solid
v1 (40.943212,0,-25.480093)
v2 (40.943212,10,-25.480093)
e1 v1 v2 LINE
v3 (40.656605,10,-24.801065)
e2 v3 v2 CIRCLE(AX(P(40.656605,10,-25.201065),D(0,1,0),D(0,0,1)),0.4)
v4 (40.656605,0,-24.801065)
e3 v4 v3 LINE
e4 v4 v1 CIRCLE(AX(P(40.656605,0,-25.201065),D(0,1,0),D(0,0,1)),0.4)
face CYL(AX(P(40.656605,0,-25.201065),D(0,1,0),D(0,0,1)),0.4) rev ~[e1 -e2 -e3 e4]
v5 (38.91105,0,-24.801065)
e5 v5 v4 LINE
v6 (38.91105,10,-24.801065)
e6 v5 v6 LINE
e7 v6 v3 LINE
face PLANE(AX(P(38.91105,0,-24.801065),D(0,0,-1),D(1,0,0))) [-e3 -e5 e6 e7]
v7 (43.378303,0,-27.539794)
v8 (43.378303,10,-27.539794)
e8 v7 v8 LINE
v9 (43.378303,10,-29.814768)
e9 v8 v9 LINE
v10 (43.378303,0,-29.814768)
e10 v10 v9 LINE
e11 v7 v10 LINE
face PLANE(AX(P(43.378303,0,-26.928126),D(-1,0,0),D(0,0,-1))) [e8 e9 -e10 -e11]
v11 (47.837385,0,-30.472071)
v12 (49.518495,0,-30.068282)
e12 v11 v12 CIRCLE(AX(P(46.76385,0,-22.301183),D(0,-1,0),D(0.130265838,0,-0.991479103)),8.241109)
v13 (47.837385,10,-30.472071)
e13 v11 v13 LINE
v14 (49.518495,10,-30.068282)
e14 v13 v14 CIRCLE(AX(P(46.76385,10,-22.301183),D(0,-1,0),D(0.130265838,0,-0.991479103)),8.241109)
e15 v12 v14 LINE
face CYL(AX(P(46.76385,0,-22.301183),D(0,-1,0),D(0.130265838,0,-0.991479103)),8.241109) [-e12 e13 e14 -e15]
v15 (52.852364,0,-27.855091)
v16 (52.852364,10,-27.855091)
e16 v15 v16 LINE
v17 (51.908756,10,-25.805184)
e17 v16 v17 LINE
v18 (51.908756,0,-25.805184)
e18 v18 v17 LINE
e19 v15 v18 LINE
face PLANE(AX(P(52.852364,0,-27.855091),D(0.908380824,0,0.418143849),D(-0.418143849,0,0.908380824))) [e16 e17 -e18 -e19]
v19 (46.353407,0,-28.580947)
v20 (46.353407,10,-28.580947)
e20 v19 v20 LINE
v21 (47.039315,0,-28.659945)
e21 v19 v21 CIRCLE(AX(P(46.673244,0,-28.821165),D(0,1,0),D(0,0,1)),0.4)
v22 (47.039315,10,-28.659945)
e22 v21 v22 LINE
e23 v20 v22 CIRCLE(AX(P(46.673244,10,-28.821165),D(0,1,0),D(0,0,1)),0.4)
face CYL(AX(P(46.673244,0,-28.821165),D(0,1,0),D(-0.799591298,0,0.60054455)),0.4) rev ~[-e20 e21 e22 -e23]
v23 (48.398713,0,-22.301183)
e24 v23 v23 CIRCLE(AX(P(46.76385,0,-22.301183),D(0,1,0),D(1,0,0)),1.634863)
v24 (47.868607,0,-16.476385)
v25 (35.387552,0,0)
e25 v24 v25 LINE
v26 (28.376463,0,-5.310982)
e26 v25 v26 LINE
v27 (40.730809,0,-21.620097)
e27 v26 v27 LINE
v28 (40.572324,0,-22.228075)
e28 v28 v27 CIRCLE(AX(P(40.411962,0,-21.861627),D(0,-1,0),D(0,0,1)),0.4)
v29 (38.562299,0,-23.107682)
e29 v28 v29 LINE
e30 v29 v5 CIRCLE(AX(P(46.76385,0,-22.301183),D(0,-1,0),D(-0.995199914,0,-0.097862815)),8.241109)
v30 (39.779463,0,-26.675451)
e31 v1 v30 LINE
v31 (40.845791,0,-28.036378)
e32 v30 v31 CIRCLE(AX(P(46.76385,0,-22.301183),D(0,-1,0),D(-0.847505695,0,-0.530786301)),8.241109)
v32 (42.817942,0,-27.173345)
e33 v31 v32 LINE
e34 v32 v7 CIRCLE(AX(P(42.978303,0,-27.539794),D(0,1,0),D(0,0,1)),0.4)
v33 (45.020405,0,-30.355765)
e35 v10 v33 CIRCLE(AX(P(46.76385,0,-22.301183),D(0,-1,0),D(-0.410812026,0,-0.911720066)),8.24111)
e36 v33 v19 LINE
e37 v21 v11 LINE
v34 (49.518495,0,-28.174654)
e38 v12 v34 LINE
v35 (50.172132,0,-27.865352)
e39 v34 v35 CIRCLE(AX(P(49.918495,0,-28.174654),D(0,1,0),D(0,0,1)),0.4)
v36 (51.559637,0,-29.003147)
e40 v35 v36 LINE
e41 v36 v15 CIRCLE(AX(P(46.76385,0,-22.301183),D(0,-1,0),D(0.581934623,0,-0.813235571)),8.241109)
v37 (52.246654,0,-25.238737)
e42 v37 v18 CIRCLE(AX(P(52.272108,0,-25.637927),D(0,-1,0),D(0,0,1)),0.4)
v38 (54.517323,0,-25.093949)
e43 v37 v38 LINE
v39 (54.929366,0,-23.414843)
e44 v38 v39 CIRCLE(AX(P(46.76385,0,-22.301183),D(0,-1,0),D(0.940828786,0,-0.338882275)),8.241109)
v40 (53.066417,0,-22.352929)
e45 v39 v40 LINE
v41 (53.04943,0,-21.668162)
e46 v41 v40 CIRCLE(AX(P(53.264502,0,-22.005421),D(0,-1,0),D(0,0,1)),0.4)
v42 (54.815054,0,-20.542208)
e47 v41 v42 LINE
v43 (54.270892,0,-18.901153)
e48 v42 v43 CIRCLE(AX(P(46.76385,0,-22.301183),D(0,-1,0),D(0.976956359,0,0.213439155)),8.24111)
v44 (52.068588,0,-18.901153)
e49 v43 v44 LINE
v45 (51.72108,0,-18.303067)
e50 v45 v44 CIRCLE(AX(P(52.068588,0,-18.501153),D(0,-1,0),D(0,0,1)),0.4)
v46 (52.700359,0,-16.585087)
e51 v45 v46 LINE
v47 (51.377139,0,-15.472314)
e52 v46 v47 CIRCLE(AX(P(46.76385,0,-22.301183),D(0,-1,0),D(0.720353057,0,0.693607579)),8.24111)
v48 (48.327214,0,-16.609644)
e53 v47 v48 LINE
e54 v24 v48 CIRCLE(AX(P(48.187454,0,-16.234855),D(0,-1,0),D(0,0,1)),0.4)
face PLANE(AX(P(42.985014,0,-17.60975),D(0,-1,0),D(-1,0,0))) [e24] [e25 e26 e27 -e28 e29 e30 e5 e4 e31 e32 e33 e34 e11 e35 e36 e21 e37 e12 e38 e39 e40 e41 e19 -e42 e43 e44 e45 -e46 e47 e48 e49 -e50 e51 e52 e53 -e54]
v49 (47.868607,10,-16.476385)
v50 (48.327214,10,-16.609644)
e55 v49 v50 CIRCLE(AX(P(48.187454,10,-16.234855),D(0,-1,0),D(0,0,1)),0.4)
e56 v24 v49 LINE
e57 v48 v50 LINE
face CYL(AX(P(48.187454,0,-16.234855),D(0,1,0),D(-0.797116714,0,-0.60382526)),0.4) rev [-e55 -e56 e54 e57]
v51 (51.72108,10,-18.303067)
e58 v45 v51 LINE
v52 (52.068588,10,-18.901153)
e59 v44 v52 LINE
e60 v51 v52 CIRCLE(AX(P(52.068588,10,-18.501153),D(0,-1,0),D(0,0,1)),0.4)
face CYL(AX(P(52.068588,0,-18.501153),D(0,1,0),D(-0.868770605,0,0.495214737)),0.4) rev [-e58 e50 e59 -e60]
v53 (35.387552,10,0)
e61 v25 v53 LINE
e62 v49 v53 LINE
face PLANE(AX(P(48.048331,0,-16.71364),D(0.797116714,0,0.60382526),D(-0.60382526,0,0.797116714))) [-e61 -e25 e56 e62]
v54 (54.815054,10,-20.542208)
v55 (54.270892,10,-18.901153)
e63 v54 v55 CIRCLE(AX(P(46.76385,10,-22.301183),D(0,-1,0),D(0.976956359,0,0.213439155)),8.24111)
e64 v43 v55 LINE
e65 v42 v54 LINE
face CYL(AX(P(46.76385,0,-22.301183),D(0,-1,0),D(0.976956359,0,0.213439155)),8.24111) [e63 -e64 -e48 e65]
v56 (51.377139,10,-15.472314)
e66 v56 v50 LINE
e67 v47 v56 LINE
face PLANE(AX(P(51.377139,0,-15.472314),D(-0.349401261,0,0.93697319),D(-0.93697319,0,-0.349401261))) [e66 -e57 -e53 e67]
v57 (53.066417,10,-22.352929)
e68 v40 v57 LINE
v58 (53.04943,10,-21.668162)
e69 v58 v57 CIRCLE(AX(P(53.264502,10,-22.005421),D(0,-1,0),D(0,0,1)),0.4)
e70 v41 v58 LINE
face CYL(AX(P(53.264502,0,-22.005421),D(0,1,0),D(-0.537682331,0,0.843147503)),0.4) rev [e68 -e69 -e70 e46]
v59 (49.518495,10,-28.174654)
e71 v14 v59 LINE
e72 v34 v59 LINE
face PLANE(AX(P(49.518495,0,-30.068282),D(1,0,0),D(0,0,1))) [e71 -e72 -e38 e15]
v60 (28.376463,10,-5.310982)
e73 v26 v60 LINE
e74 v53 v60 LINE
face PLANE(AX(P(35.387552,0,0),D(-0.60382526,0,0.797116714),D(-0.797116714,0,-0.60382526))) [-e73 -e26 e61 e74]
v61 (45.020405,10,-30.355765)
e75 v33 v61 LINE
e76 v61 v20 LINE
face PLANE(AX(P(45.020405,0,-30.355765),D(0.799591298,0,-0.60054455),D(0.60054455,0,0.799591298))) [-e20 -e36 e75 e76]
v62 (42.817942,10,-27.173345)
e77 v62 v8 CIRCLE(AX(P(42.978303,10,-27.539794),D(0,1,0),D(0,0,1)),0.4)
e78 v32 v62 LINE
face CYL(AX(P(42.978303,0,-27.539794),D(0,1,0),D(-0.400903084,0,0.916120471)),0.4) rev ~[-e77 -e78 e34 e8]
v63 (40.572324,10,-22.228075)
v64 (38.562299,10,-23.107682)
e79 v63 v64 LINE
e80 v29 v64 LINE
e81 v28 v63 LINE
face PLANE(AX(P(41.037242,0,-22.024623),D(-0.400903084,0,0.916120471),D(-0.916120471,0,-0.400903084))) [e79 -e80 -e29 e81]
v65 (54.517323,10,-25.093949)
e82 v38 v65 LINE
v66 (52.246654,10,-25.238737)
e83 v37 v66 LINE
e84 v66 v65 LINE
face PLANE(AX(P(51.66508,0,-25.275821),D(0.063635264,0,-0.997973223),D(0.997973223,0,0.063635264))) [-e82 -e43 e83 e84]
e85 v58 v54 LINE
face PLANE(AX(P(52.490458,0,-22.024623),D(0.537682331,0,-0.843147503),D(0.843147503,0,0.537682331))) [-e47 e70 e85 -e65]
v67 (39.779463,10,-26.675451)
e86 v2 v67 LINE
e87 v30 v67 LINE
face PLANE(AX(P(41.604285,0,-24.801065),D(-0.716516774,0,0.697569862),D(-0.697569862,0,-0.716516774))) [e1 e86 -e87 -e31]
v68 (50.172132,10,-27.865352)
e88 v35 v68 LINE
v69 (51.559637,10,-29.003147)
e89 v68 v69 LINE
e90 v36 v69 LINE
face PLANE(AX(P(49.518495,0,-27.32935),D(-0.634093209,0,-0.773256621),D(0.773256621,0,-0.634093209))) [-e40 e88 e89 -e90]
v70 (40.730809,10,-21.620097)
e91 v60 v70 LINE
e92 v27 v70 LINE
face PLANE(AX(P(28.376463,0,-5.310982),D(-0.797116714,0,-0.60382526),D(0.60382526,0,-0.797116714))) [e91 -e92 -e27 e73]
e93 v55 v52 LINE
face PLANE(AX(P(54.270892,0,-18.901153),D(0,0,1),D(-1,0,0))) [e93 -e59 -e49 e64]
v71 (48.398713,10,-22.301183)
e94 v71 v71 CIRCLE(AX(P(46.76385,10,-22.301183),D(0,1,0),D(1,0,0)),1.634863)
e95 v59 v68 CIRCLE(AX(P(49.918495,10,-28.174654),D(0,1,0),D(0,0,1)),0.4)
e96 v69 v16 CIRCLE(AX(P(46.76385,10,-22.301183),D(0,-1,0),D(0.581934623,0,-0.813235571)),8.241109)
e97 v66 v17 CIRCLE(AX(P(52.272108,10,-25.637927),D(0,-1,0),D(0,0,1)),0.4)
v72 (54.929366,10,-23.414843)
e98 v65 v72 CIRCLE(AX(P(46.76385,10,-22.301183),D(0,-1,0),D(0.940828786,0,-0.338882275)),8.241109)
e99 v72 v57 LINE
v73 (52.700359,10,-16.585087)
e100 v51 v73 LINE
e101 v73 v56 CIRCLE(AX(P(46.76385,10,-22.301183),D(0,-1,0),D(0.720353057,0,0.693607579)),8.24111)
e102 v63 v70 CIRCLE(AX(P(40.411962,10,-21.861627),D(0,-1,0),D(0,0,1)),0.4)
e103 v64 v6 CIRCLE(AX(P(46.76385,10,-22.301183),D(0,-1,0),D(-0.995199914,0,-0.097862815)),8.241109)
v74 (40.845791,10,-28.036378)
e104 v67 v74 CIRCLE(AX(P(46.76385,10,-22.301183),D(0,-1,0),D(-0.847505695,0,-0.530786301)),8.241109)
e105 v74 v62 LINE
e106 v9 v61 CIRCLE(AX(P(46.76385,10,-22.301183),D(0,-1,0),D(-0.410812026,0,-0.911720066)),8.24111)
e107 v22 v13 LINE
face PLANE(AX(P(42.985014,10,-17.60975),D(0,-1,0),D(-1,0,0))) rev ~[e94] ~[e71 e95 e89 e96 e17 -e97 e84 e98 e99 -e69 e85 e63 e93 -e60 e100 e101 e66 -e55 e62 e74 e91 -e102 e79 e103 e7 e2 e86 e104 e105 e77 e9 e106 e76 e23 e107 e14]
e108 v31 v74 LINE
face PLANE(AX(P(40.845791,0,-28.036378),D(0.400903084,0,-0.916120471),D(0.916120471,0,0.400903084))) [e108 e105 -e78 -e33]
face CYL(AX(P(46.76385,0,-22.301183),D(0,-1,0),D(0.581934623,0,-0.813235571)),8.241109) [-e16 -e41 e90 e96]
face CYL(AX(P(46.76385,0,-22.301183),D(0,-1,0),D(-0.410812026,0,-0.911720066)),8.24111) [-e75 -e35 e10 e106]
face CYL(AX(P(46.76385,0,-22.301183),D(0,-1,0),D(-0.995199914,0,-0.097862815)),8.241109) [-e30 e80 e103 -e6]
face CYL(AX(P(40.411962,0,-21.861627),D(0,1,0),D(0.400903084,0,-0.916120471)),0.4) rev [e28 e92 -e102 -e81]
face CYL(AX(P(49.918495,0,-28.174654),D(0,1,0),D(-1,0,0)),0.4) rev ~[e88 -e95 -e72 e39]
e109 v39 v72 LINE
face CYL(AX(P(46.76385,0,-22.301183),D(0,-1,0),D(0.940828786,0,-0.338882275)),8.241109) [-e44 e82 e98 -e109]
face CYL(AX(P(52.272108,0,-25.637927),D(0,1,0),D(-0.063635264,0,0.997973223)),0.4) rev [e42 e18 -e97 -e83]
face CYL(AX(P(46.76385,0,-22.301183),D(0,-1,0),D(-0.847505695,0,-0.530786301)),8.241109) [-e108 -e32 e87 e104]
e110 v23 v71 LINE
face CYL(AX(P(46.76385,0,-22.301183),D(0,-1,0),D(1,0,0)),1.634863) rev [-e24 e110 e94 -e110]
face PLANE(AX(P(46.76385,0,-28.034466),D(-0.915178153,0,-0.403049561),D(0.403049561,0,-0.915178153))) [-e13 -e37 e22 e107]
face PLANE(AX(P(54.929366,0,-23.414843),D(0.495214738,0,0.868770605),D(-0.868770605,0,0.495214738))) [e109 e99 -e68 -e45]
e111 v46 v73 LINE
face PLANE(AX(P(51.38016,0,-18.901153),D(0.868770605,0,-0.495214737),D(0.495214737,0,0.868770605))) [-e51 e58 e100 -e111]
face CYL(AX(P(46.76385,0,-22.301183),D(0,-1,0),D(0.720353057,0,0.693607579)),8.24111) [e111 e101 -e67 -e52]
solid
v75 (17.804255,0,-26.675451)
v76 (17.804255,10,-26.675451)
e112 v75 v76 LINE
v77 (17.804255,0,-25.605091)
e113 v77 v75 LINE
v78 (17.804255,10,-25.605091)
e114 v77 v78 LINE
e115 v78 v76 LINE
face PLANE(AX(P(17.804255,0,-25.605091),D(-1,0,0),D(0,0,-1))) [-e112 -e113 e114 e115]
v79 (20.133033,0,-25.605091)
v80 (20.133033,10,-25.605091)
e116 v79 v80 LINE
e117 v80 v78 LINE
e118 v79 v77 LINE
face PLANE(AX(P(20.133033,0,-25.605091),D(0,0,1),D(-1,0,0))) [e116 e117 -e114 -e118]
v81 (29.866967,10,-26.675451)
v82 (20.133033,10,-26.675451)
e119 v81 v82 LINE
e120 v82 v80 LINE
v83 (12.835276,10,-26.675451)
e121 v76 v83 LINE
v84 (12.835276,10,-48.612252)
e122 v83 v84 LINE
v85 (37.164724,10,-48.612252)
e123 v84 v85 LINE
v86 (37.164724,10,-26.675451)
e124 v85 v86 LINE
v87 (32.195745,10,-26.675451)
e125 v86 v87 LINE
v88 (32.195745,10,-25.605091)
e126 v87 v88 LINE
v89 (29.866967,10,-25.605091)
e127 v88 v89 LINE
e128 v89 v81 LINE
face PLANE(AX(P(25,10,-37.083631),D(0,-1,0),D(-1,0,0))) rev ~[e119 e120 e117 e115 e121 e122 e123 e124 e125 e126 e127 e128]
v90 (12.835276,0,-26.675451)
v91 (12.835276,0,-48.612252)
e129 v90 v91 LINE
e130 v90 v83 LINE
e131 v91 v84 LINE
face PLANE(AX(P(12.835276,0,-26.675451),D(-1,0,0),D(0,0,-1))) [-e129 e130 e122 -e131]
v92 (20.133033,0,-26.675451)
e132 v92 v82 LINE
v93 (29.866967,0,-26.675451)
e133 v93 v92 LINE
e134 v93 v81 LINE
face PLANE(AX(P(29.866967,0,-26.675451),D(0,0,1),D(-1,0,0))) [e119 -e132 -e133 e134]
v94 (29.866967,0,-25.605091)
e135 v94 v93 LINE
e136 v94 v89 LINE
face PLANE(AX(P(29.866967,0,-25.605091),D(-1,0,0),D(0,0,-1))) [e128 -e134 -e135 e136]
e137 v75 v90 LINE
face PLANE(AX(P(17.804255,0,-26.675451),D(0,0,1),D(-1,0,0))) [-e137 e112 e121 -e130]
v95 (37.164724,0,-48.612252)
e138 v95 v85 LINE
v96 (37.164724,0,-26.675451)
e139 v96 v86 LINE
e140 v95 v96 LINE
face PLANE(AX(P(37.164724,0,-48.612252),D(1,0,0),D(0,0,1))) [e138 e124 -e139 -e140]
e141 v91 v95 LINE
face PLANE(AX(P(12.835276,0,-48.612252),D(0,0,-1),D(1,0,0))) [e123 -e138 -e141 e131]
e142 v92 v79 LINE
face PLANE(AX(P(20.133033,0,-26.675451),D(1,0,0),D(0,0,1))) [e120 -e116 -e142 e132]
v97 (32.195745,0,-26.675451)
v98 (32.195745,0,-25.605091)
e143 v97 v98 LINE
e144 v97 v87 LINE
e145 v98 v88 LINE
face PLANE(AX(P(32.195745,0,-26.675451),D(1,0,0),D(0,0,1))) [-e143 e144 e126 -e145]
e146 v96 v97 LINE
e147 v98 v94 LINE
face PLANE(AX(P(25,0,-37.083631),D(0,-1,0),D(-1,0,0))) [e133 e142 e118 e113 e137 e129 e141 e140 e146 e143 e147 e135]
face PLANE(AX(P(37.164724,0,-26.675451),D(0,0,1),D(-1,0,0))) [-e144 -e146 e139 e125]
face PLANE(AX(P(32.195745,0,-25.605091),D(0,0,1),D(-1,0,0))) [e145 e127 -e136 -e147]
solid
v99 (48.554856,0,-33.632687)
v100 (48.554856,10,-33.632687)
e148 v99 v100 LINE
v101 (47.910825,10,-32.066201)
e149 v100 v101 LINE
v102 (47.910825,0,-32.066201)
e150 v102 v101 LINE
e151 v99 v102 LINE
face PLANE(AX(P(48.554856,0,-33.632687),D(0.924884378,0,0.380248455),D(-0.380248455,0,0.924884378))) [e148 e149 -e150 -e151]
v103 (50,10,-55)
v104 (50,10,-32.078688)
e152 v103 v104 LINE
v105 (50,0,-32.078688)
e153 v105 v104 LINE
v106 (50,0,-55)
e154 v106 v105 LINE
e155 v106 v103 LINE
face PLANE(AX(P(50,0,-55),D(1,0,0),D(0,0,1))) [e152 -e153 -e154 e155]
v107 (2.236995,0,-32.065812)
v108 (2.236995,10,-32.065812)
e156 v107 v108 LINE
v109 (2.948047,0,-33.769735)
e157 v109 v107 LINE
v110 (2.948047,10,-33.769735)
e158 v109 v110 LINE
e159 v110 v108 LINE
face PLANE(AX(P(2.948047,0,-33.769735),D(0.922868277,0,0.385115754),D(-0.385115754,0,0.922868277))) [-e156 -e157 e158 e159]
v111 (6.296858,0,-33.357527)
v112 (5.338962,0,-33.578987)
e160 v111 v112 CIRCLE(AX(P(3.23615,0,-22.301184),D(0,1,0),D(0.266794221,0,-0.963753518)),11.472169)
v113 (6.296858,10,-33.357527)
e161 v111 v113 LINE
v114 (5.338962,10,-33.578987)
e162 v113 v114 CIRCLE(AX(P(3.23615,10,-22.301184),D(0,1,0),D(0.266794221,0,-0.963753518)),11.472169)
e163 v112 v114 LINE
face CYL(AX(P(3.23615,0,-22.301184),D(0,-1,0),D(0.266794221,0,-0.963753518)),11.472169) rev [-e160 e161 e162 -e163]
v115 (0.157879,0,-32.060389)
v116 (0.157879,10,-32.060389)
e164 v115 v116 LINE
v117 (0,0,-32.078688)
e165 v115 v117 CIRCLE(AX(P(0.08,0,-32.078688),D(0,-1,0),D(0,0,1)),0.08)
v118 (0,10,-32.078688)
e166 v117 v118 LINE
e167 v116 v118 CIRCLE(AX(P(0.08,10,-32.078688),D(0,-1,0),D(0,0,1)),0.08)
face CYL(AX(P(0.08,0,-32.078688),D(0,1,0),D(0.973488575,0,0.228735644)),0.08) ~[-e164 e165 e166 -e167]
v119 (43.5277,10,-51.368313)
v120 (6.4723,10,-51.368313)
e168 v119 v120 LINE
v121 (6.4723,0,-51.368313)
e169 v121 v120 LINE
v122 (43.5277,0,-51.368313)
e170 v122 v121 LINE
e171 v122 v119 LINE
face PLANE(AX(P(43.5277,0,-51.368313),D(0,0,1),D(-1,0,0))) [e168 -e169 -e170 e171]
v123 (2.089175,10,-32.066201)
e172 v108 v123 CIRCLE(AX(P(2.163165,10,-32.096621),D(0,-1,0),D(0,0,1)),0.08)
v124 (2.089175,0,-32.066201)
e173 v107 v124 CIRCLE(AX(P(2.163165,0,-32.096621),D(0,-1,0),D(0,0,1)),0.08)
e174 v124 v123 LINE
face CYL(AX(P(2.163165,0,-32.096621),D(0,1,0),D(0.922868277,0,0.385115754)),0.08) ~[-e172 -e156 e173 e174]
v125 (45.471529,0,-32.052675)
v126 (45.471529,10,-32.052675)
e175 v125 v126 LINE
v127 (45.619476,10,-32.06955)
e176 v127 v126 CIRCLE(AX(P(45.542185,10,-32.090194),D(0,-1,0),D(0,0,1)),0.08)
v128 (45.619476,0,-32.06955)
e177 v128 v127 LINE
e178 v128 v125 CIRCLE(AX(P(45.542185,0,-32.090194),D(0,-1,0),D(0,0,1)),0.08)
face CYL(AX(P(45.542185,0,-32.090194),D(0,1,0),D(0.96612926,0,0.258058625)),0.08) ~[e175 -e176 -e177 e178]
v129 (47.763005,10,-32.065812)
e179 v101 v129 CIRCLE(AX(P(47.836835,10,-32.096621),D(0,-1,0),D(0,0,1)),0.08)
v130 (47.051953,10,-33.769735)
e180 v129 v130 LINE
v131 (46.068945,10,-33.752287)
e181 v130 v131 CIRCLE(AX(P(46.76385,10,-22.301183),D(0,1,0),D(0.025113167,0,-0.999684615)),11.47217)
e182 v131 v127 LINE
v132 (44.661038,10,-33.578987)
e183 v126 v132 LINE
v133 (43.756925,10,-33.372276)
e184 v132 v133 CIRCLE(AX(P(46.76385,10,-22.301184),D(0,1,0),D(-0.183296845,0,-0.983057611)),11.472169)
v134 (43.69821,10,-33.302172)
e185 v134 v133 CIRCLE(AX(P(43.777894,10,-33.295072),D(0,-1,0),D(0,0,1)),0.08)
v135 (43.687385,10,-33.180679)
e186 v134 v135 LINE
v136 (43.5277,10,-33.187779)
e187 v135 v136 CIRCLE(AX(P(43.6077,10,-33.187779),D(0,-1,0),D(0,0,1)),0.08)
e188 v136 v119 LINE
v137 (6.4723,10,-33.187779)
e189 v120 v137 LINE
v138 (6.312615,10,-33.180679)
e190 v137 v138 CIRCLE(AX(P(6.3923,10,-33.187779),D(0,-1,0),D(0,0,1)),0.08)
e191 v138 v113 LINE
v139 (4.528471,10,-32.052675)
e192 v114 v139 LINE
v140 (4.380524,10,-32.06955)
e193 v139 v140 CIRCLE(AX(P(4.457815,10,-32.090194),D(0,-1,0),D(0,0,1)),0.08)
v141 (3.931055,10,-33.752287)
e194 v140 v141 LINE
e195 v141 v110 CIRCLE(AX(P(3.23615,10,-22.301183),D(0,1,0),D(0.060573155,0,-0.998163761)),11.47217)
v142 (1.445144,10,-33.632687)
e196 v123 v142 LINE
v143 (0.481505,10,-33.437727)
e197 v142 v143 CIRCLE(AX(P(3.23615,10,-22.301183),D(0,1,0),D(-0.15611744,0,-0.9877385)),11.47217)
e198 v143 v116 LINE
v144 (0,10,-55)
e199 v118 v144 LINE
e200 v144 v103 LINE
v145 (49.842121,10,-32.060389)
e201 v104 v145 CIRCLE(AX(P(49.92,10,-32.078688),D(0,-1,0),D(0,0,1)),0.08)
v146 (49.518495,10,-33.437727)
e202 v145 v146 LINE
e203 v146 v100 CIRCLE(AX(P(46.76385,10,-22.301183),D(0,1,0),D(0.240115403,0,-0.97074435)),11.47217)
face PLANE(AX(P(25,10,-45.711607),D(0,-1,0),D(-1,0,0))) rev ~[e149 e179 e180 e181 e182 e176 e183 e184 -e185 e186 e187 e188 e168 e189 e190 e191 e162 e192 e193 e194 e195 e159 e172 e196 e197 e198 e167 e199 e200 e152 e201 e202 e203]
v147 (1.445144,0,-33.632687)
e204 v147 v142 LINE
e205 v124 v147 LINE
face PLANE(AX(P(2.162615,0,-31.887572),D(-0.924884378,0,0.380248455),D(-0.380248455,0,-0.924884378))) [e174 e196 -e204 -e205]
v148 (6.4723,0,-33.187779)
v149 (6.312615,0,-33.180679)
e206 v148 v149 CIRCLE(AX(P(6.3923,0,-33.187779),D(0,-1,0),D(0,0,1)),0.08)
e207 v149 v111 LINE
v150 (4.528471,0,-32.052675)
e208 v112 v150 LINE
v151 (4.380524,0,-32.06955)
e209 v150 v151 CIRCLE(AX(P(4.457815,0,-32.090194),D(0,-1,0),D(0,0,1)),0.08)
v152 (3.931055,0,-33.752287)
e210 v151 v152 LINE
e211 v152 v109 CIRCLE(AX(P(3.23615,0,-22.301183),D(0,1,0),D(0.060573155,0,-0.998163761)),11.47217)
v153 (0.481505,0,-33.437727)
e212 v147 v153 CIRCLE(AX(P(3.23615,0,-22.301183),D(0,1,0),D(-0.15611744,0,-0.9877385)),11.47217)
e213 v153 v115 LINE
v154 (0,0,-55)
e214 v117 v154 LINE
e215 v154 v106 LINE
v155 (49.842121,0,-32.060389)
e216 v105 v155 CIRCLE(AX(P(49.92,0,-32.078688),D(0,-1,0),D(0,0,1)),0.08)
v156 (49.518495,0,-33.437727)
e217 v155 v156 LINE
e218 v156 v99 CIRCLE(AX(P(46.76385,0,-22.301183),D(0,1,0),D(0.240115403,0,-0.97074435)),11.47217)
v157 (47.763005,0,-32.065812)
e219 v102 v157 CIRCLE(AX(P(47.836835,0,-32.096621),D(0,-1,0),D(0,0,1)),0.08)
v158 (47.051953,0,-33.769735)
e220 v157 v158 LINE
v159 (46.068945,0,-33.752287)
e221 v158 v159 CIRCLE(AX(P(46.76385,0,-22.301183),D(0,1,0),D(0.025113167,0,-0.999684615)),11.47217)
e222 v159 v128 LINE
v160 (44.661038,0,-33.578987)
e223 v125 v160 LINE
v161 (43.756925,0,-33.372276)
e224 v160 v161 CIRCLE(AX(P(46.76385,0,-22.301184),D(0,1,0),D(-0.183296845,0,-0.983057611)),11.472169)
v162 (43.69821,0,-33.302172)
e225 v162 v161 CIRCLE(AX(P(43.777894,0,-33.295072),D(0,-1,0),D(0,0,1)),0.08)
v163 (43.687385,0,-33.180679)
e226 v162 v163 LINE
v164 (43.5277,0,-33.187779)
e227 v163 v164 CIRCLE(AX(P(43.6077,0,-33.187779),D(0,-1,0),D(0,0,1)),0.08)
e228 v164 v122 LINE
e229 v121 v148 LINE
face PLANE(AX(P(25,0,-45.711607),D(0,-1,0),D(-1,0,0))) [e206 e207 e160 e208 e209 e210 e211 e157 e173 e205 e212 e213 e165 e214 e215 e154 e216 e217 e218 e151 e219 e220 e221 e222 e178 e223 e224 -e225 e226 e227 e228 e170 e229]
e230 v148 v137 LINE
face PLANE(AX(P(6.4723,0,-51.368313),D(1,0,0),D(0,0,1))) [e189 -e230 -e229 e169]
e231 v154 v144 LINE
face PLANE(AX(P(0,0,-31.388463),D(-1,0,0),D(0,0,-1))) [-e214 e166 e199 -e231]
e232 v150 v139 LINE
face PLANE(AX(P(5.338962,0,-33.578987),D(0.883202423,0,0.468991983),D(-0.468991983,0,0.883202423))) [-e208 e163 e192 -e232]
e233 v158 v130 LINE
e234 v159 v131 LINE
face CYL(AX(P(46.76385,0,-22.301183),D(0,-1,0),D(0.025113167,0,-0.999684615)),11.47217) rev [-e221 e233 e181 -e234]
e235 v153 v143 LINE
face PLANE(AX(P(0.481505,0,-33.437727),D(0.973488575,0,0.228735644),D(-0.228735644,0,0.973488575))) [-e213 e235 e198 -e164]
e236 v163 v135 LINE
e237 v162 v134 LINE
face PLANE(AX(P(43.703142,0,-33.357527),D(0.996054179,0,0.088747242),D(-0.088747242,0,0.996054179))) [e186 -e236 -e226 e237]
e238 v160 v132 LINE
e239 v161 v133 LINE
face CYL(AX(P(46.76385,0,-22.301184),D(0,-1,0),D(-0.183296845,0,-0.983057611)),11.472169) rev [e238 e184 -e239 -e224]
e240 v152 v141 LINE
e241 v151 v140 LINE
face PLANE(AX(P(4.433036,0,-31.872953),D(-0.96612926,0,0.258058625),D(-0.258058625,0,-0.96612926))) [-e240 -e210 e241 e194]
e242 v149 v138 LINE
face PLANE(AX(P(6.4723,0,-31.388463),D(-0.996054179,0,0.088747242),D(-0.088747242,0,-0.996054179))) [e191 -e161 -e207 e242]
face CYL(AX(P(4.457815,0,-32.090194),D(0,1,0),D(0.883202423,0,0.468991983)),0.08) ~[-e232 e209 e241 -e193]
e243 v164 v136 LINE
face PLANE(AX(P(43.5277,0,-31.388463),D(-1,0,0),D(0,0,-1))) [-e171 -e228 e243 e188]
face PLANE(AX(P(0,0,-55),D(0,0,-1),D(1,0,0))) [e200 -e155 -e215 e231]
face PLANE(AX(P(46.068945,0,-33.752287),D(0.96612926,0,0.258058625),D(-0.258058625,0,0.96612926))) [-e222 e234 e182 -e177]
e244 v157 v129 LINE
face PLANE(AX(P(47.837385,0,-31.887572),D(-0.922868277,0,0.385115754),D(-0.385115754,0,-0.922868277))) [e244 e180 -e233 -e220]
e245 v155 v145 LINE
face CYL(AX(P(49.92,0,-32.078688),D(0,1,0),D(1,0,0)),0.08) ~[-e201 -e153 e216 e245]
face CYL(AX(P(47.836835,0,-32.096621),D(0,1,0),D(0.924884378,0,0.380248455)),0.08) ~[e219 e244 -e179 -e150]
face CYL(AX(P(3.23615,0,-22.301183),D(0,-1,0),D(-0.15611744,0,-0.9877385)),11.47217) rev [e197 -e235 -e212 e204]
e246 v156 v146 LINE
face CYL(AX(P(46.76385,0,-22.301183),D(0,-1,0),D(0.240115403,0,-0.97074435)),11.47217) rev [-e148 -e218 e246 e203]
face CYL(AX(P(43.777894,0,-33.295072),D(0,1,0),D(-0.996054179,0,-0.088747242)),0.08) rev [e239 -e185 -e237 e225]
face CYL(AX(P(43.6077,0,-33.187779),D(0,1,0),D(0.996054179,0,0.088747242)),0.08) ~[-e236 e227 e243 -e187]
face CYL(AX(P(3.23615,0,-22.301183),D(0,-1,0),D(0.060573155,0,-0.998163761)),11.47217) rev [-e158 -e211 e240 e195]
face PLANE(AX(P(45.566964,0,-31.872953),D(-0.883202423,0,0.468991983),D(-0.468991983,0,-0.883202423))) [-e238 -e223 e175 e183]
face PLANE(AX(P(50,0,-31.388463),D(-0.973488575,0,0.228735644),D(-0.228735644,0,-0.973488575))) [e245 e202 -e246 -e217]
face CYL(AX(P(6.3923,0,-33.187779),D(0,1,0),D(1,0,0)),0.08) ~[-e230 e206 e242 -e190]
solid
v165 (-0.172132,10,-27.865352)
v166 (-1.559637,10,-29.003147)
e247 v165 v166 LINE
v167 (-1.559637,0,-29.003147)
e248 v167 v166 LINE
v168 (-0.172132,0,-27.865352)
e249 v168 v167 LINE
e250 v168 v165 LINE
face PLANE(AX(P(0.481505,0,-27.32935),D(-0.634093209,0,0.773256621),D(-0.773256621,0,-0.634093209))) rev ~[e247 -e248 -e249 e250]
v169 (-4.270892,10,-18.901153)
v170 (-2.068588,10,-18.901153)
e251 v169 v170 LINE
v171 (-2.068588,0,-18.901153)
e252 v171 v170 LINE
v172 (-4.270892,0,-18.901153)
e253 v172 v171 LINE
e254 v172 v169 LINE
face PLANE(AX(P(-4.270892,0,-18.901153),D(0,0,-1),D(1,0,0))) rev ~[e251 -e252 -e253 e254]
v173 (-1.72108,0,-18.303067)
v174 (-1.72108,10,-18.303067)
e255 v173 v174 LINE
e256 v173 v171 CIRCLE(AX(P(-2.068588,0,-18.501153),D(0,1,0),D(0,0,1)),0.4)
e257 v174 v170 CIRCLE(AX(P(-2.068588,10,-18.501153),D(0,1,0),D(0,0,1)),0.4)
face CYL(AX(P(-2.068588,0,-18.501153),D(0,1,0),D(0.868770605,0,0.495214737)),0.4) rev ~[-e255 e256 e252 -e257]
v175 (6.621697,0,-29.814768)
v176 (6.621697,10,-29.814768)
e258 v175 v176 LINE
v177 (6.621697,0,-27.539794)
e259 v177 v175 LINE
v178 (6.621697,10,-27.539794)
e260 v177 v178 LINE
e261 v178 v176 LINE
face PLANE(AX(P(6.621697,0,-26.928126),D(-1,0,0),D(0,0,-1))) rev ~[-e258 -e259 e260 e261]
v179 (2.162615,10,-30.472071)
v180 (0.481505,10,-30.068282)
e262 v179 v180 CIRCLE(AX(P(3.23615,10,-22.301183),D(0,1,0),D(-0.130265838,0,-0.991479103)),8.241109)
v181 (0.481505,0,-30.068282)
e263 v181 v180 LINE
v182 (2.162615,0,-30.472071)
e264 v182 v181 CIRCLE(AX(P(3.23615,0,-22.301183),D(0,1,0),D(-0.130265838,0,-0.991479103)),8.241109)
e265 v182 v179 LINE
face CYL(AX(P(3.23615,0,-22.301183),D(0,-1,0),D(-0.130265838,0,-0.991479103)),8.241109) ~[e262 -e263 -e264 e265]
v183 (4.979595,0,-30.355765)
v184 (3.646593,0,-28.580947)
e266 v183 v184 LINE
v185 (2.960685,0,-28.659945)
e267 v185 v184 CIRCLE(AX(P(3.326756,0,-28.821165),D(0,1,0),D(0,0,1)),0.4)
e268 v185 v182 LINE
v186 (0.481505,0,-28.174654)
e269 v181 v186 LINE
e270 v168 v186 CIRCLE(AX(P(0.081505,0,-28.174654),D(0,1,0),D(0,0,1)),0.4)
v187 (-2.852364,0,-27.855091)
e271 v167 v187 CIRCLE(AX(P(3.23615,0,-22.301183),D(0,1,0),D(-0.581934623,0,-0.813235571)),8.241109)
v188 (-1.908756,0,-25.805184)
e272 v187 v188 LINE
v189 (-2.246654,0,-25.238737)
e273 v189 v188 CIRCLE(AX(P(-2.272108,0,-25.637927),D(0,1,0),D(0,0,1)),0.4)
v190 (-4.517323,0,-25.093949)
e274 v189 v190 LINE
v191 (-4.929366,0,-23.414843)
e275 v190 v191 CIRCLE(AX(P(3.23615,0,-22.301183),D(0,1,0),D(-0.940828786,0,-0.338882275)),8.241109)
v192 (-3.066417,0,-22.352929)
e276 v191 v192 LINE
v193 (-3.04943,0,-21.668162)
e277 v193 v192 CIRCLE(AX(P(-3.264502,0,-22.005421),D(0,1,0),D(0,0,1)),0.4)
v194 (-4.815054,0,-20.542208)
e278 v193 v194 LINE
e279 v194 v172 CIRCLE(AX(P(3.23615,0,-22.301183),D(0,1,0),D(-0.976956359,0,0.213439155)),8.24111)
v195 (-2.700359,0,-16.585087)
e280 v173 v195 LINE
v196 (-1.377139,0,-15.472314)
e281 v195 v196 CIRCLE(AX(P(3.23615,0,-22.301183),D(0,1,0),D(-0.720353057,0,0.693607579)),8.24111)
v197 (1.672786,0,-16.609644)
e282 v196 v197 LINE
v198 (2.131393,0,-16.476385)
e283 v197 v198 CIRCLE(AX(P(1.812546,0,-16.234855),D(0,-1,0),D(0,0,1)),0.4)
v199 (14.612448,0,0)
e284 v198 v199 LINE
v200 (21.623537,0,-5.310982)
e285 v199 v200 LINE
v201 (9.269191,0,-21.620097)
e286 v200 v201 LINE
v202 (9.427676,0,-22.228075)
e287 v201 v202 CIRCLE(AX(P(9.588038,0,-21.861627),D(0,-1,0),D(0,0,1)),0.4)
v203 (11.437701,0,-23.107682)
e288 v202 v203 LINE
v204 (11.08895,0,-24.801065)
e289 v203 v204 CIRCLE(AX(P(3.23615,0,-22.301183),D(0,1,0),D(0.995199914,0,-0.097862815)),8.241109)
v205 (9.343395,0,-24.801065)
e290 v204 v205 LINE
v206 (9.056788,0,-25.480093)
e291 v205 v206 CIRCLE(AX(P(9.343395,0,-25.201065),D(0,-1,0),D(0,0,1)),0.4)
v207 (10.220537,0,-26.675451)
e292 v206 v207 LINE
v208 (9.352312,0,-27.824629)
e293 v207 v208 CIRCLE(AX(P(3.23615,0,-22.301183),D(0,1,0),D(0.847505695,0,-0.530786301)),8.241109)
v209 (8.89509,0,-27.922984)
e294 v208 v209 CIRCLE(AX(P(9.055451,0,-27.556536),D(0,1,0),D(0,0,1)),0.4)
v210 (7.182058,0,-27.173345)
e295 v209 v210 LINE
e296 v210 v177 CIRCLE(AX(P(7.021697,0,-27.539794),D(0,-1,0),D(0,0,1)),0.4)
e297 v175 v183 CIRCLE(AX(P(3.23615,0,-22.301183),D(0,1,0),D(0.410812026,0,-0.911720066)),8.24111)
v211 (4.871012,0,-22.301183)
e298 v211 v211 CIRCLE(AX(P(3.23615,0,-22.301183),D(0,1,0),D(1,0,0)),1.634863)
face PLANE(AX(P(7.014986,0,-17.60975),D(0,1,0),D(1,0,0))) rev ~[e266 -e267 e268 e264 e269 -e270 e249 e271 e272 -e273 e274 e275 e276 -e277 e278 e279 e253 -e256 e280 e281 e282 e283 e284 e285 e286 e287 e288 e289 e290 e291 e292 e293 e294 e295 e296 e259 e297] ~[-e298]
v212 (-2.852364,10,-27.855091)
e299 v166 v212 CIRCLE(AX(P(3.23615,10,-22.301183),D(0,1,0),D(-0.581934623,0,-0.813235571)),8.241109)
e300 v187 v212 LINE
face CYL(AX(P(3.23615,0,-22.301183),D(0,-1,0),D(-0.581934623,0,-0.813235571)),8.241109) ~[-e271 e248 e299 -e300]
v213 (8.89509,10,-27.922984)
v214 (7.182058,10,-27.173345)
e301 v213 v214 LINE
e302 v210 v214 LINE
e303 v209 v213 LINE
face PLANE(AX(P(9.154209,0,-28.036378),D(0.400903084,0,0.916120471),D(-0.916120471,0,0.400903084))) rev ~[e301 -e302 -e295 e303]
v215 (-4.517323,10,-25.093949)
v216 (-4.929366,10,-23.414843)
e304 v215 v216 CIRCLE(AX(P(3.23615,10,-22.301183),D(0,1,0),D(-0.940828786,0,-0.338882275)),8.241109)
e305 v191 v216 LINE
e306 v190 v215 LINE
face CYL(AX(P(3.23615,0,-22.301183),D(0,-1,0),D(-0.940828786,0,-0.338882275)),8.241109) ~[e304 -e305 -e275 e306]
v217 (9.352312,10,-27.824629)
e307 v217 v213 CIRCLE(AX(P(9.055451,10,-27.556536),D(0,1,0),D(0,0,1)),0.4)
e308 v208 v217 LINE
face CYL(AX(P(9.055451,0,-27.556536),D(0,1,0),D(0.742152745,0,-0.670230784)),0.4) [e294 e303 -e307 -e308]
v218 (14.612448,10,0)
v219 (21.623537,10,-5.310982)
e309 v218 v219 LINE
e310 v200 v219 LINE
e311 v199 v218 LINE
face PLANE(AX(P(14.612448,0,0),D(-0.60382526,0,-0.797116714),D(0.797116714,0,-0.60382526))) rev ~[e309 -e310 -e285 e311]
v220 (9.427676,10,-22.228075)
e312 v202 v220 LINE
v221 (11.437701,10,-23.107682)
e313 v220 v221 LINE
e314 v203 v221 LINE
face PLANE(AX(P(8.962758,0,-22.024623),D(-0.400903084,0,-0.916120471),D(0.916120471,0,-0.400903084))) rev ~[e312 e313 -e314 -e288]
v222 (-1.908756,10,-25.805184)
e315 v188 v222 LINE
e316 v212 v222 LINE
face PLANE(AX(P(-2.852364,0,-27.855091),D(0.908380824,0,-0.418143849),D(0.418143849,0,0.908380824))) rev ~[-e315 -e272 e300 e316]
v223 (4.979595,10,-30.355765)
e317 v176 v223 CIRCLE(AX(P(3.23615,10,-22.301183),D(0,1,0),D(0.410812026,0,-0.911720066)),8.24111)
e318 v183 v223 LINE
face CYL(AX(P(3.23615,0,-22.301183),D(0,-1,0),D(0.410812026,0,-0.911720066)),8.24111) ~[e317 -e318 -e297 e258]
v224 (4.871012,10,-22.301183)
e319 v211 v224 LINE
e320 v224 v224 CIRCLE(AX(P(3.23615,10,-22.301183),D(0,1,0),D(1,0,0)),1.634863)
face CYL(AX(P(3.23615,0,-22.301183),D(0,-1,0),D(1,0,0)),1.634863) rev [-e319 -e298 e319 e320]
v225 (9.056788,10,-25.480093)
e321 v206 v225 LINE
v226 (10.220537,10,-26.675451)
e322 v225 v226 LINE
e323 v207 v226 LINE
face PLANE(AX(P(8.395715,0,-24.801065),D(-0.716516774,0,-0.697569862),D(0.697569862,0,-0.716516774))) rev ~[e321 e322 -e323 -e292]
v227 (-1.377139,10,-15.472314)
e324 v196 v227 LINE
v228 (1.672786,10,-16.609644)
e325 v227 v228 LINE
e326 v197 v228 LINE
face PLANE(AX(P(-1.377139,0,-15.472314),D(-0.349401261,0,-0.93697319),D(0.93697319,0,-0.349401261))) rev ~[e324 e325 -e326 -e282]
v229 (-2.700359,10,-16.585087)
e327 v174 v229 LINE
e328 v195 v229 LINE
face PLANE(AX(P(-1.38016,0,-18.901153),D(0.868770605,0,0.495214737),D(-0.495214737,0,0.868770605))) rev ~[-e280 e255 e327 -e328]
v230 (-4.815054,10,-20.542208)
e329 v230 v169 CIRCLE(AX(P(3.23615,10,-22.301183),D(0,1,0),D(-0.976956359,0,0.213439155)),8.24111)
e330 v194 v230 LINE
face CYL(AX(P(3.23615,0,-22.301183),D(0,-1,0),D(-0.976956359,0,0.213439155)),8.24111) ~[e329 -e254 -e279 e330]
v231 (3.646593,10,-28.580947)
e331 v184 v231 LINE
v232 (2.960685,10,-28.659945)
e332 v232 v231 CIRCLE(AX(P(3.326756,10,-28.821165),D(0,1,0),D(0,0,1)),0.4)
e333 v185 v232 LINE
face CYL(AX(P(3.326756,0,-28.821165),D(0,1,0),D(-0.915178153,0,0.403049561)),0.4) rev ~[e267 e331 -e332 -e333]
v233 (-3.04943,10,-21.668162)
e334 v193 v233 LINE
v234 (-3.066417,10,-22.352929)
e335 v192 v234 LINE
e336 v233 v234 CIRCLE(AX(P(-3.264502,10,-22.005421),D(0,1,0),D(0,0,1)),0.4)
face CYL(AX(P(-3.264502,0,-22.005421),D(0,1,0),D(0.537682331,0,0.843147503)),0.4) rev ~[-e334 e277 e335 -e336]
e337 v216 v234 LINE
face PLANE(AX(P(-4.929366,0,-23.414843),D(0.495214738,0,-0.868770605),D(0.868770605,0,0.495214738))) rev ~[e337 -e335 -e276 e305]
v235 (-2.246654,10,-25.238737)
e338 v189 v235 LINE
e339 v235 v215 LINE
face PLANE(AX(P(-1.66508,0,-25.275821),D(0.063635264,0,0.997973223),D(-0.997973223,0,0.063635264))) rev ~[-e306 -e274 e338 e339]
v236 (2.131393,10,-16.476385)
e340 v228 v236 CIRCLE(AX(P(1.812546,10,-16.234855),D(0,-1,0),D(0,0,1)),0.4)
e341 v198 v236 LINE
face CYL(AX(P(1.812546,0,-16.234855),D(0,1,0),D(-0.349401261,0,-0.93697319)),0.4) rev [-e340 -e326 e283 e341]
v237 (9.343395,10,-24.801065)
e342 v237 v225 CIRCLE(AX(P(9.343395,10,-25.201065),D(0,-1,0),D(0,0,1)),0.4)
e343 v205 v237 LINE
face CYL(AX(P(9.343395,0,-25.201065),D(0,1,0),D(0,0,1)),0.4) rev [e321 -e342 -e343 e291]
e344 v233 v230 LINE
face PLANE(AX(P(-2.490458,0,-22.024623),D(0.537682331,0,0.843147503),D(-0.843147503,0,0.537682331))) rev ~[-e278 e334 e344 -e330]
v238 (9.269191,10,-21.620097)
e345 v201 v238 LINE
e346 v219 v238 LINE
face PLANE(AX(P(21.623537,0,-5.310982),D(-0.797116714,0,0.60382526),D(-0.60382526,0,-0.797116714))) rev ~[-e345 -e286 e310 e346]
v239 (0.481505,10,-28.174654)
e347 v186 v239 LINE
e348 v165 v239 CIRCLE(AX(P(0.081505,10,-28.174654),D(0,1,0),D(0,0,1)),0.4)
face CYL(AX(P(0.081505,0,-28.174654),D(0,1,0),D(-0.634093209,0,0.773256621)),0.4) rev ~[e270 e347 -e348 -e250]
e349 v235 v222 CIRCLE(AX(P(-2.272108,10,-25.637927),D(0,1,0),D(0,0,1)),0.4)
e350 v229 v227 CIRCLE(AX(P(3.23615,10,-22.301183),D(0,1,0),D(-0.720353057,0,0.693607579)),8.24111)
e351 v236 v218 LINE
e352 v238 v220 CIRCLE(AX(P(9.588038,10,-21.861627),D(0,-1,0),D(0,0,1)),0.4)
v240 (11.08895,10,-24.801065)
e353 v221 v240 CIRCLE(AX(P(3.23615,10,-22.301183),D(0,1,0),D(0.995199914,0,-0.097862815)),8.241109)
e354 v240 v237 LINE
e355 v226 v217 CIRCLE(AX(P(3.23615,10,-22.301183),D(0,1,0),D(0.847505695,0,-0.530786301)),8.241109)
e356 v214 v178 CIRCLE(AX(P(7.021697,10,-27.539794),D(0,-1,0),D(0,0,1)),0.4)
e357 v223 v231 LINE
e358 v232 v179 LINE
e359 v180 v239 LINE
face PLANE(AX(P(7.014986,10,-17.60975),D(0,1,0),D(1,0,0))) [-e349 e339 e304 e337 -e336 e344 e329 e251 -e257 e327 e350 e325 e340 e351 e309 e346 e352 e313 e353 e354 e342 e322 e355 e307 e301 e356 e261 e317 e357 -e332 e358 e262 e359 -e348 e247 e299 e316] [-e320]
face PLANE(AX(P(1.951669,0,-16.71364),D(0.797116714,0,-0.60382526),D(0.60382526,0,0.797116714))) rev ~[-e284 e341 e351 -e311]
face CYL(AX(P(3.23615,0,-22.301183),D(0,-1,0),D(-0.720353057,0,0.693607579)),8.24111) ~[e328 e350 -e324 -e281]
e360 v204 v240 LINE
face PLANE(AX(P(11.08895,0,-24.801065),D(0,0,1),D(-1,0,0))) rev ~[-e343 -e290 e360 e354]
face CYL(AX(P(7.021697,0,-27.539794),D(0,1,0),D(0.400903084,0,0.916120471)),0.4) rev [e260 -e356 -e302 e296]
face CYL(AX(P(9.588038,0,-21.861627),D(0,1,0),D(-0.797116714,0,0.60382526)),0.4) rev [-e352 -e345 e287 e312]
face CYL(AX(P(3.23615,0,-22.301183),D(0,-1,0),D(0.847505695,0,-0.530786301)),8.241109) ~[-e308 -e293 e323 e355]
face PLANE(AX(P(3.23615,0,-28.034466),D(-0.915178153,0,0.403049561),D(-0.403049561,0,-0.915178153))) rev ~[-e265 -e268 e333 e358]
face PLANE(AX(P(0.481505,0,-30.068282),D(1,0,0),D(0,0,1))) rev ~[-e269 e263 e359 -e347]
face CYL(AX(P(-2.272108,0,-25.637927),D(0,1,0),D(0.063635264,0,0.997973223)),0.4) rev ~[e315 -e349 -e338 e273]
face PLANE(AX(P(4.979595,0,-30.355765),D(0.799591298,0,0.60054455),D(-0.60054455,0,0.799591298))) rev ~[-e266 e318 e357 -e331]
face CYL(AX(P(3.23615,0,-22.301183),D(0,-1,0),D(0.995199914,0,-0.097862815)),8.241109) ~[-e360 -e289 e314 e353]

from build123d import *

# Parameters (mm, degrees)
BOSS_EXTRUDE1_DEPTH   = 10
SKETCH1_R             = 1.634862636
BOSS_EXTRUDE1_2_DEPTH = 10
BOSS_EXTRUDE1_3_DEPTH = 10
BOSS_EXTRUDE1_4_DEPTH = 10
FILLET3_R             = 0.08
FILLET4_R             = 0.4
FILLET5_R             = 0.4


with BuildPart() as part:
    # Sketch1 → Boss-Extrude1 (new body)
    with BuildSketch(Plane(origin=(0, 0, 0), x_dir=(1, 0, 0), z_dir=(0, 1, 0))):
        Polygon((37.164723878, 48.612251684), (37.164723878, 26.675451349), (32.195744528, 26.675451349), (32.195744528, 25.605091118), (29.866967358, 25.605091118), (29.866967358, 26.675451349), (20.133032642, 26.675451349), (20.133032642, 25.605091118), (17.804255472, 25.605091118), (17.804255472, 26.675451349), (12.835276122, 26.675451349), (12.835276122, 48.612251684), align=None)
    extrude(amount=BOSS_EXTRUDE1_DEPTH)


with BuildPart() as body_2:
    # Sketch1 → Boss-Extrude1 2 (new body)
    with BuildSketch(Plane(origin=(0, 0, 0), x_dir=(1, 0, 0), z_dir=(0, 1, 0))):
        with BuildLine():
            Line((-1.38016006, 18.901152594), (-2.700358537, 16.585087375))
            ThreePointArc((-2.700358537, 16.585087375), (-2.068010706, 15.993904553), (-1.377138562, 15.472314112))
            Line((-1.377138562, 15.472314112), (1.951668945, 16.713640495))
            Line((1.951668945, 16.713640495), (14.612447645, 0))
            Line((14.612447645, 0), (21.623536668, 5.310982164))
            Line((21.623536668, 5.310982164), (8.962757967, 22.024622659))
            Line((8.962757967, 22.024622659), (11.437701272, 23.107681531))
            ThreePointArc((11.437701272, 23.107681531), (11.307856053, 23.963544328), (11.088950356, 24.801065196))
            Line((11.088950356, 24.801065196), (8.395715441, 24.801065196))
            Line((8.395715441, 24.801065196), (10.220537046, 26.675451349))
            ThreePointArc((10.220537046, 26.675451349), (9.723160987, 27.383955382), (9.154209441, 28.036377827))
            Line((9.154209441, 28.036377827), (6.621696735, 26.928126035))
            Line((6.621696735, 26.928126035), (6.621696735, 29.8147682))
            ThreePointArc((6.621696735, 29.8147682), (5.814872257, 30.128448245), (4.979595029, 30.355764897))
            Line((4.979595029, 30.355764897), (3.236149851, 28.034465682))
            Line((3.236149851, 28.034465682), (2.162614812, 30.472071154))
            ThreePointArc((2.162614812, 30.472071154), (1.31144171, 30.314383932), (0.481505188, 30.068281764))
            Line((0.481505188, 30.068281764), (0.481505188, 27.329349922))
            Line((0.481505188, 27.329349922), (-1.55963707, 29.003146704))
            ThreePointArc((-1.55963707, 29.003146704), (-2.236190449, 28.463112969), (-2.852363875, 27.855090587))
            Line((-2.852363875, 27.855090587), (-1.665080257, 25.275821099))
            Line((-1.665080257, 25.275821099), (-4.517323151, 25.093949256))
            ThreePointArc((-4.517323151, 25.093949256), (-4.767499265, 24.26523168), (-4.92936582, 23.414843459))
            Line((-4.92936582, 23.414843459), (-2.490458264, 22.024622659))
            Line((-2.490458264, 22.024622659), (-4.815054435, 20.542207918))
            ThreePointArc((-4.815054435, 20.542207918), (-4.586127349, 19.70737063), (-4.270891903, 18.901152594))
            Line((-4.270891903, 18.901152594), (-1.38016006, 18.901152594))
        make_face()
        with Locations((3.236149851, 22.301183348)):
            Circle(SKETCH1_R, mode=Mode.SUBTRACT)
    extrude(amount=BOSS_EXTRUDE1_2_DEPTH)

    # Fillet4
    fillet4_edges = [body_2.edges().sort_by_distance(p)[0] for p in [
        (-1.38016006, 5, -18.901152594),
        (-2.490458264, 5, -22.024622659),
        (-1.665080257, 5, -25.275821099),
        (0.481505188, 5, -27.329349922),
        (3.236149851, 5, -28.034465682),
        (6.621696735, 5, -26.928126035),
        (9.154209441, 5, -28.036377827),
        (8.395715441, 5, -24.801065196),
        (8.962757967, 5, -22.024622659),
        (1.951668945, 5, -16.713640495),
    ]]
    fillet(fillet4_edges, radius=FILLET4_R)


with BuildPart() as body_3:
    # Sketch1 → Boss-Extrude1 3 (new body)
    with BuildSketch(Plane(origin=(0, 0, 0), x_dir=(1, 0, 0), z_dir=(0, 1, 0))):
        with BuildLine():
            Line((43.703141587, 33.357527321), (43.527700297, 31.388462981))
            Line((43.527700297, 31.388462981), (43.527700297, 33.307454883))
            Line((43.527700297, 33.307454883), (43.527700297, 51.368312567))
            Line((43.527700297, 51.368312567), (6.472299703, 51.368312567))
            Line((6.472299703, 51.368312567), (6.472299703, 33.307454883))
            Line((6.472299703, 33.307454883), (6.472299703, 31.388462981))
            Line((6.472299703, 31.388462981), (6.296858413, 33.357527321))
            ThreePointArc((6.296858413, 33.357527321), (5.820283882, 33.478523384), (5.338962403, 33.578987138))
            Line((5.338962403, 33.578987138), (4.433036227, 31.872953299))
            Line((4.433036227, 31.872953299), (3.931055376, 33.752287455))
            ThreePointArc((3.931055376, 33.752287455), (3.439738349, 33.771546493), (2.948047339, 33.769734952))
            Line((2.948047339, 33.769734952), (2.162614812, 31.887571589))
            Line((2.162614812, 31.887571589), (1.445144074, 33.632687099))
            ThreePointArc((1.445144074, 33.632687099), (0.961235169, 33.545534914), (0.481505188, 33.437727324))
            Line((0.481505188, 33.437727324), (0, 31.388462981))
            Line((0, 31.388462981), (0, 33.307454883))
            Line((0, 33.307454883), (0, 55))
            Line((0, 55), (50, 55))
            Line((50, 55), (50, 31.388462981))
            Line((50, 31.388462981), (49.518494812, 33.437727324))
            ThreePointArc((49.518494812, 33.437727324), (49.038764831, 33.545534914), (48.554855926, 33.632687099))
            Line((48.554855926, 33.632687099), (47.837385188, 31.887571589))
            Line((47.837385188, 31.887571589), (47.051952661, 33.769734952))
            ThreePointArc((47.051952661, 33.769734952), (46.560261651, 33.771546493), (46.068944624, 33.752287455))
            Line((46.068944624, 33.752287455), (45.566963773, 31.872953299))
            Line((45.566963773, 31.872953299), (44.661037597, 33.578987138))
            ThreePointArc((44.661037597, 33.578987138), (44.179716118, 33.478523384), (43.703141587, 33.357527321))
        make_face()
    extrude(amount=BOSS_EXTRUDE1_3_DEPTH)

    # Fillet3
    fillet3_edges = [body_3.edges().sort_by_distance(p)[0] for p in [
        (43.527700297, 5, -31.388462981),
        (6.472299703, 5, -31.388462981),
        (4.433036227, 5, -31.872953299),
        (2.162614812, 5, -31.887571589),
        (0, 5, -31.388462981),
        (50, 5, -31.388462981),
        (47.837385188, 5, -31.887571589),
        (45.566963773, 5, -31.872953299),
        (43.703141587, 5, -33.357527321),
    ]]
    fillet(fillet3_edges, radius=FILLET3_R)


with BuildPart() as body_4:
    # Sketch1 → Boss-Extrude1 4 (new body)
    with BuildSketch(Plane(origin=(0, 0, 0), x_dir=(1, 0, 0), z_dir=(0, 1, 0))):
        with BuildLine():
            ThreePointArc((38.562298728, 23.107681531), (38.692143947, 23.963544328), (38.911049644, 24.801065196))
            Line((38.911049644, 24.801065196), (41.604284559, 24.801065196))
            Line((41.604284559, 24.801065196), (39.779462954, 26.675451349))
            ThreePointArc((39.779462954, 26.675451349), (40.276839013, 27.383955382), (40.845790559, 28.036377827))
            Line((40.845790559, 28.036377827), (43.378303265, 26.928126035))
            Line((43.378303265, 26.928126035), (43.378303265, 29.8147682))
            ThreePointArc((43.378303265, 29.8147682), (44.185127743, 30.128448245), (45.020404971, 30.355764897))
            Line((45.020404971, 30.355764897), (46.763850149, 28.034465682))
            Line((46.763850149, 28.034465682), (47.837385188, 30.472071154))
            ThreePointArc((47.837385188, 30.472071154), (48.68855829, 30.314383932), (49.518494812, 30.068281764))
            Line((49.518494812, 30.068281764), (49.518494812, 27.329349922))
            Line((49.518494812, 27.329349922), (51.55963707, 29.003146704))
            ThreePointArc((51.55963707, 29.003146704), (52.236190449, 28.463112969), (52.852363875, 27.855090587))
            Line((52.852363875, 27.855090587), (51.665080257, 25.275821099))
            Line((51.665080257, 25.275821099), (54.517323151, 25.093949256))
            ThreePointArc((54.517323151, 25.093949256), (54.767499265, 24.26523168), (54.92936582, 23.414843459))
            Line((54.92936582, 23.414843459), (52.490458264, 22.024622659))
            Line((52.490458264, 22.024622659), (54.815054435, 20.542207918))
            ThreePointArc((54.815054435, 20.542207918), (54.586127349, 19.70737063), (54.270891903, 18.901152594))
            Line((54.270891903, 18.901152594), (51.38016006, 18.901152594))
            Line((51.38016006, 18.901152594), (52.700358537, 16.585087375))
            ThreePointArc((52.700358537, 16.585087375), (52.068010706, 15.993904553), (51.377138562, 15.472314112))
            Line((51.377138562, 15.472314112), (48.048331055, 16.713640495))
            Line((48.048331055, 16.713640495), (35.387552355, 0))
            Line((35.387552355, 0), (28.376463332, 5.310982164))
            Line((28.376463332, 5.310982164), (41.037242033, 22.024622659))
            Line((41.037242033, 22.024622659), (38.562298728, 23.107681531))
        make_face()
        with Locations((46.763850149, 22.301183348)):
            Circle(SKETCH1_R, mode=Mode.SUBTRACT)
    extrude(amount=BOSS_EXTRUDE1_4_DEPTH)

    # Fillet5
    fillet5_edges = [body_4.edges().sort_by_distance(p)[0] for p in [
        (41.604284559, 5, -24.801065196),
        (43.378303265, 5, -26.928126035),
        (46.763850149, 5, -28.034465682),
        (49.518494812, 5, -27.329349922),
        (51.665080257, 5, -25.275821099),
        (52.490458264, 5, -22.024622659),
        (51.38016006, 5, -18.901152594),
        (48.048331055, 5, -16.713640495),
        (41.037242033, 5, -22.024622659),
    ]]
    fillet(fillet5_edges, radius=FILLET5_R)


solid = Compound([part.part, body_2.part, body_3.part, body_4.part])
